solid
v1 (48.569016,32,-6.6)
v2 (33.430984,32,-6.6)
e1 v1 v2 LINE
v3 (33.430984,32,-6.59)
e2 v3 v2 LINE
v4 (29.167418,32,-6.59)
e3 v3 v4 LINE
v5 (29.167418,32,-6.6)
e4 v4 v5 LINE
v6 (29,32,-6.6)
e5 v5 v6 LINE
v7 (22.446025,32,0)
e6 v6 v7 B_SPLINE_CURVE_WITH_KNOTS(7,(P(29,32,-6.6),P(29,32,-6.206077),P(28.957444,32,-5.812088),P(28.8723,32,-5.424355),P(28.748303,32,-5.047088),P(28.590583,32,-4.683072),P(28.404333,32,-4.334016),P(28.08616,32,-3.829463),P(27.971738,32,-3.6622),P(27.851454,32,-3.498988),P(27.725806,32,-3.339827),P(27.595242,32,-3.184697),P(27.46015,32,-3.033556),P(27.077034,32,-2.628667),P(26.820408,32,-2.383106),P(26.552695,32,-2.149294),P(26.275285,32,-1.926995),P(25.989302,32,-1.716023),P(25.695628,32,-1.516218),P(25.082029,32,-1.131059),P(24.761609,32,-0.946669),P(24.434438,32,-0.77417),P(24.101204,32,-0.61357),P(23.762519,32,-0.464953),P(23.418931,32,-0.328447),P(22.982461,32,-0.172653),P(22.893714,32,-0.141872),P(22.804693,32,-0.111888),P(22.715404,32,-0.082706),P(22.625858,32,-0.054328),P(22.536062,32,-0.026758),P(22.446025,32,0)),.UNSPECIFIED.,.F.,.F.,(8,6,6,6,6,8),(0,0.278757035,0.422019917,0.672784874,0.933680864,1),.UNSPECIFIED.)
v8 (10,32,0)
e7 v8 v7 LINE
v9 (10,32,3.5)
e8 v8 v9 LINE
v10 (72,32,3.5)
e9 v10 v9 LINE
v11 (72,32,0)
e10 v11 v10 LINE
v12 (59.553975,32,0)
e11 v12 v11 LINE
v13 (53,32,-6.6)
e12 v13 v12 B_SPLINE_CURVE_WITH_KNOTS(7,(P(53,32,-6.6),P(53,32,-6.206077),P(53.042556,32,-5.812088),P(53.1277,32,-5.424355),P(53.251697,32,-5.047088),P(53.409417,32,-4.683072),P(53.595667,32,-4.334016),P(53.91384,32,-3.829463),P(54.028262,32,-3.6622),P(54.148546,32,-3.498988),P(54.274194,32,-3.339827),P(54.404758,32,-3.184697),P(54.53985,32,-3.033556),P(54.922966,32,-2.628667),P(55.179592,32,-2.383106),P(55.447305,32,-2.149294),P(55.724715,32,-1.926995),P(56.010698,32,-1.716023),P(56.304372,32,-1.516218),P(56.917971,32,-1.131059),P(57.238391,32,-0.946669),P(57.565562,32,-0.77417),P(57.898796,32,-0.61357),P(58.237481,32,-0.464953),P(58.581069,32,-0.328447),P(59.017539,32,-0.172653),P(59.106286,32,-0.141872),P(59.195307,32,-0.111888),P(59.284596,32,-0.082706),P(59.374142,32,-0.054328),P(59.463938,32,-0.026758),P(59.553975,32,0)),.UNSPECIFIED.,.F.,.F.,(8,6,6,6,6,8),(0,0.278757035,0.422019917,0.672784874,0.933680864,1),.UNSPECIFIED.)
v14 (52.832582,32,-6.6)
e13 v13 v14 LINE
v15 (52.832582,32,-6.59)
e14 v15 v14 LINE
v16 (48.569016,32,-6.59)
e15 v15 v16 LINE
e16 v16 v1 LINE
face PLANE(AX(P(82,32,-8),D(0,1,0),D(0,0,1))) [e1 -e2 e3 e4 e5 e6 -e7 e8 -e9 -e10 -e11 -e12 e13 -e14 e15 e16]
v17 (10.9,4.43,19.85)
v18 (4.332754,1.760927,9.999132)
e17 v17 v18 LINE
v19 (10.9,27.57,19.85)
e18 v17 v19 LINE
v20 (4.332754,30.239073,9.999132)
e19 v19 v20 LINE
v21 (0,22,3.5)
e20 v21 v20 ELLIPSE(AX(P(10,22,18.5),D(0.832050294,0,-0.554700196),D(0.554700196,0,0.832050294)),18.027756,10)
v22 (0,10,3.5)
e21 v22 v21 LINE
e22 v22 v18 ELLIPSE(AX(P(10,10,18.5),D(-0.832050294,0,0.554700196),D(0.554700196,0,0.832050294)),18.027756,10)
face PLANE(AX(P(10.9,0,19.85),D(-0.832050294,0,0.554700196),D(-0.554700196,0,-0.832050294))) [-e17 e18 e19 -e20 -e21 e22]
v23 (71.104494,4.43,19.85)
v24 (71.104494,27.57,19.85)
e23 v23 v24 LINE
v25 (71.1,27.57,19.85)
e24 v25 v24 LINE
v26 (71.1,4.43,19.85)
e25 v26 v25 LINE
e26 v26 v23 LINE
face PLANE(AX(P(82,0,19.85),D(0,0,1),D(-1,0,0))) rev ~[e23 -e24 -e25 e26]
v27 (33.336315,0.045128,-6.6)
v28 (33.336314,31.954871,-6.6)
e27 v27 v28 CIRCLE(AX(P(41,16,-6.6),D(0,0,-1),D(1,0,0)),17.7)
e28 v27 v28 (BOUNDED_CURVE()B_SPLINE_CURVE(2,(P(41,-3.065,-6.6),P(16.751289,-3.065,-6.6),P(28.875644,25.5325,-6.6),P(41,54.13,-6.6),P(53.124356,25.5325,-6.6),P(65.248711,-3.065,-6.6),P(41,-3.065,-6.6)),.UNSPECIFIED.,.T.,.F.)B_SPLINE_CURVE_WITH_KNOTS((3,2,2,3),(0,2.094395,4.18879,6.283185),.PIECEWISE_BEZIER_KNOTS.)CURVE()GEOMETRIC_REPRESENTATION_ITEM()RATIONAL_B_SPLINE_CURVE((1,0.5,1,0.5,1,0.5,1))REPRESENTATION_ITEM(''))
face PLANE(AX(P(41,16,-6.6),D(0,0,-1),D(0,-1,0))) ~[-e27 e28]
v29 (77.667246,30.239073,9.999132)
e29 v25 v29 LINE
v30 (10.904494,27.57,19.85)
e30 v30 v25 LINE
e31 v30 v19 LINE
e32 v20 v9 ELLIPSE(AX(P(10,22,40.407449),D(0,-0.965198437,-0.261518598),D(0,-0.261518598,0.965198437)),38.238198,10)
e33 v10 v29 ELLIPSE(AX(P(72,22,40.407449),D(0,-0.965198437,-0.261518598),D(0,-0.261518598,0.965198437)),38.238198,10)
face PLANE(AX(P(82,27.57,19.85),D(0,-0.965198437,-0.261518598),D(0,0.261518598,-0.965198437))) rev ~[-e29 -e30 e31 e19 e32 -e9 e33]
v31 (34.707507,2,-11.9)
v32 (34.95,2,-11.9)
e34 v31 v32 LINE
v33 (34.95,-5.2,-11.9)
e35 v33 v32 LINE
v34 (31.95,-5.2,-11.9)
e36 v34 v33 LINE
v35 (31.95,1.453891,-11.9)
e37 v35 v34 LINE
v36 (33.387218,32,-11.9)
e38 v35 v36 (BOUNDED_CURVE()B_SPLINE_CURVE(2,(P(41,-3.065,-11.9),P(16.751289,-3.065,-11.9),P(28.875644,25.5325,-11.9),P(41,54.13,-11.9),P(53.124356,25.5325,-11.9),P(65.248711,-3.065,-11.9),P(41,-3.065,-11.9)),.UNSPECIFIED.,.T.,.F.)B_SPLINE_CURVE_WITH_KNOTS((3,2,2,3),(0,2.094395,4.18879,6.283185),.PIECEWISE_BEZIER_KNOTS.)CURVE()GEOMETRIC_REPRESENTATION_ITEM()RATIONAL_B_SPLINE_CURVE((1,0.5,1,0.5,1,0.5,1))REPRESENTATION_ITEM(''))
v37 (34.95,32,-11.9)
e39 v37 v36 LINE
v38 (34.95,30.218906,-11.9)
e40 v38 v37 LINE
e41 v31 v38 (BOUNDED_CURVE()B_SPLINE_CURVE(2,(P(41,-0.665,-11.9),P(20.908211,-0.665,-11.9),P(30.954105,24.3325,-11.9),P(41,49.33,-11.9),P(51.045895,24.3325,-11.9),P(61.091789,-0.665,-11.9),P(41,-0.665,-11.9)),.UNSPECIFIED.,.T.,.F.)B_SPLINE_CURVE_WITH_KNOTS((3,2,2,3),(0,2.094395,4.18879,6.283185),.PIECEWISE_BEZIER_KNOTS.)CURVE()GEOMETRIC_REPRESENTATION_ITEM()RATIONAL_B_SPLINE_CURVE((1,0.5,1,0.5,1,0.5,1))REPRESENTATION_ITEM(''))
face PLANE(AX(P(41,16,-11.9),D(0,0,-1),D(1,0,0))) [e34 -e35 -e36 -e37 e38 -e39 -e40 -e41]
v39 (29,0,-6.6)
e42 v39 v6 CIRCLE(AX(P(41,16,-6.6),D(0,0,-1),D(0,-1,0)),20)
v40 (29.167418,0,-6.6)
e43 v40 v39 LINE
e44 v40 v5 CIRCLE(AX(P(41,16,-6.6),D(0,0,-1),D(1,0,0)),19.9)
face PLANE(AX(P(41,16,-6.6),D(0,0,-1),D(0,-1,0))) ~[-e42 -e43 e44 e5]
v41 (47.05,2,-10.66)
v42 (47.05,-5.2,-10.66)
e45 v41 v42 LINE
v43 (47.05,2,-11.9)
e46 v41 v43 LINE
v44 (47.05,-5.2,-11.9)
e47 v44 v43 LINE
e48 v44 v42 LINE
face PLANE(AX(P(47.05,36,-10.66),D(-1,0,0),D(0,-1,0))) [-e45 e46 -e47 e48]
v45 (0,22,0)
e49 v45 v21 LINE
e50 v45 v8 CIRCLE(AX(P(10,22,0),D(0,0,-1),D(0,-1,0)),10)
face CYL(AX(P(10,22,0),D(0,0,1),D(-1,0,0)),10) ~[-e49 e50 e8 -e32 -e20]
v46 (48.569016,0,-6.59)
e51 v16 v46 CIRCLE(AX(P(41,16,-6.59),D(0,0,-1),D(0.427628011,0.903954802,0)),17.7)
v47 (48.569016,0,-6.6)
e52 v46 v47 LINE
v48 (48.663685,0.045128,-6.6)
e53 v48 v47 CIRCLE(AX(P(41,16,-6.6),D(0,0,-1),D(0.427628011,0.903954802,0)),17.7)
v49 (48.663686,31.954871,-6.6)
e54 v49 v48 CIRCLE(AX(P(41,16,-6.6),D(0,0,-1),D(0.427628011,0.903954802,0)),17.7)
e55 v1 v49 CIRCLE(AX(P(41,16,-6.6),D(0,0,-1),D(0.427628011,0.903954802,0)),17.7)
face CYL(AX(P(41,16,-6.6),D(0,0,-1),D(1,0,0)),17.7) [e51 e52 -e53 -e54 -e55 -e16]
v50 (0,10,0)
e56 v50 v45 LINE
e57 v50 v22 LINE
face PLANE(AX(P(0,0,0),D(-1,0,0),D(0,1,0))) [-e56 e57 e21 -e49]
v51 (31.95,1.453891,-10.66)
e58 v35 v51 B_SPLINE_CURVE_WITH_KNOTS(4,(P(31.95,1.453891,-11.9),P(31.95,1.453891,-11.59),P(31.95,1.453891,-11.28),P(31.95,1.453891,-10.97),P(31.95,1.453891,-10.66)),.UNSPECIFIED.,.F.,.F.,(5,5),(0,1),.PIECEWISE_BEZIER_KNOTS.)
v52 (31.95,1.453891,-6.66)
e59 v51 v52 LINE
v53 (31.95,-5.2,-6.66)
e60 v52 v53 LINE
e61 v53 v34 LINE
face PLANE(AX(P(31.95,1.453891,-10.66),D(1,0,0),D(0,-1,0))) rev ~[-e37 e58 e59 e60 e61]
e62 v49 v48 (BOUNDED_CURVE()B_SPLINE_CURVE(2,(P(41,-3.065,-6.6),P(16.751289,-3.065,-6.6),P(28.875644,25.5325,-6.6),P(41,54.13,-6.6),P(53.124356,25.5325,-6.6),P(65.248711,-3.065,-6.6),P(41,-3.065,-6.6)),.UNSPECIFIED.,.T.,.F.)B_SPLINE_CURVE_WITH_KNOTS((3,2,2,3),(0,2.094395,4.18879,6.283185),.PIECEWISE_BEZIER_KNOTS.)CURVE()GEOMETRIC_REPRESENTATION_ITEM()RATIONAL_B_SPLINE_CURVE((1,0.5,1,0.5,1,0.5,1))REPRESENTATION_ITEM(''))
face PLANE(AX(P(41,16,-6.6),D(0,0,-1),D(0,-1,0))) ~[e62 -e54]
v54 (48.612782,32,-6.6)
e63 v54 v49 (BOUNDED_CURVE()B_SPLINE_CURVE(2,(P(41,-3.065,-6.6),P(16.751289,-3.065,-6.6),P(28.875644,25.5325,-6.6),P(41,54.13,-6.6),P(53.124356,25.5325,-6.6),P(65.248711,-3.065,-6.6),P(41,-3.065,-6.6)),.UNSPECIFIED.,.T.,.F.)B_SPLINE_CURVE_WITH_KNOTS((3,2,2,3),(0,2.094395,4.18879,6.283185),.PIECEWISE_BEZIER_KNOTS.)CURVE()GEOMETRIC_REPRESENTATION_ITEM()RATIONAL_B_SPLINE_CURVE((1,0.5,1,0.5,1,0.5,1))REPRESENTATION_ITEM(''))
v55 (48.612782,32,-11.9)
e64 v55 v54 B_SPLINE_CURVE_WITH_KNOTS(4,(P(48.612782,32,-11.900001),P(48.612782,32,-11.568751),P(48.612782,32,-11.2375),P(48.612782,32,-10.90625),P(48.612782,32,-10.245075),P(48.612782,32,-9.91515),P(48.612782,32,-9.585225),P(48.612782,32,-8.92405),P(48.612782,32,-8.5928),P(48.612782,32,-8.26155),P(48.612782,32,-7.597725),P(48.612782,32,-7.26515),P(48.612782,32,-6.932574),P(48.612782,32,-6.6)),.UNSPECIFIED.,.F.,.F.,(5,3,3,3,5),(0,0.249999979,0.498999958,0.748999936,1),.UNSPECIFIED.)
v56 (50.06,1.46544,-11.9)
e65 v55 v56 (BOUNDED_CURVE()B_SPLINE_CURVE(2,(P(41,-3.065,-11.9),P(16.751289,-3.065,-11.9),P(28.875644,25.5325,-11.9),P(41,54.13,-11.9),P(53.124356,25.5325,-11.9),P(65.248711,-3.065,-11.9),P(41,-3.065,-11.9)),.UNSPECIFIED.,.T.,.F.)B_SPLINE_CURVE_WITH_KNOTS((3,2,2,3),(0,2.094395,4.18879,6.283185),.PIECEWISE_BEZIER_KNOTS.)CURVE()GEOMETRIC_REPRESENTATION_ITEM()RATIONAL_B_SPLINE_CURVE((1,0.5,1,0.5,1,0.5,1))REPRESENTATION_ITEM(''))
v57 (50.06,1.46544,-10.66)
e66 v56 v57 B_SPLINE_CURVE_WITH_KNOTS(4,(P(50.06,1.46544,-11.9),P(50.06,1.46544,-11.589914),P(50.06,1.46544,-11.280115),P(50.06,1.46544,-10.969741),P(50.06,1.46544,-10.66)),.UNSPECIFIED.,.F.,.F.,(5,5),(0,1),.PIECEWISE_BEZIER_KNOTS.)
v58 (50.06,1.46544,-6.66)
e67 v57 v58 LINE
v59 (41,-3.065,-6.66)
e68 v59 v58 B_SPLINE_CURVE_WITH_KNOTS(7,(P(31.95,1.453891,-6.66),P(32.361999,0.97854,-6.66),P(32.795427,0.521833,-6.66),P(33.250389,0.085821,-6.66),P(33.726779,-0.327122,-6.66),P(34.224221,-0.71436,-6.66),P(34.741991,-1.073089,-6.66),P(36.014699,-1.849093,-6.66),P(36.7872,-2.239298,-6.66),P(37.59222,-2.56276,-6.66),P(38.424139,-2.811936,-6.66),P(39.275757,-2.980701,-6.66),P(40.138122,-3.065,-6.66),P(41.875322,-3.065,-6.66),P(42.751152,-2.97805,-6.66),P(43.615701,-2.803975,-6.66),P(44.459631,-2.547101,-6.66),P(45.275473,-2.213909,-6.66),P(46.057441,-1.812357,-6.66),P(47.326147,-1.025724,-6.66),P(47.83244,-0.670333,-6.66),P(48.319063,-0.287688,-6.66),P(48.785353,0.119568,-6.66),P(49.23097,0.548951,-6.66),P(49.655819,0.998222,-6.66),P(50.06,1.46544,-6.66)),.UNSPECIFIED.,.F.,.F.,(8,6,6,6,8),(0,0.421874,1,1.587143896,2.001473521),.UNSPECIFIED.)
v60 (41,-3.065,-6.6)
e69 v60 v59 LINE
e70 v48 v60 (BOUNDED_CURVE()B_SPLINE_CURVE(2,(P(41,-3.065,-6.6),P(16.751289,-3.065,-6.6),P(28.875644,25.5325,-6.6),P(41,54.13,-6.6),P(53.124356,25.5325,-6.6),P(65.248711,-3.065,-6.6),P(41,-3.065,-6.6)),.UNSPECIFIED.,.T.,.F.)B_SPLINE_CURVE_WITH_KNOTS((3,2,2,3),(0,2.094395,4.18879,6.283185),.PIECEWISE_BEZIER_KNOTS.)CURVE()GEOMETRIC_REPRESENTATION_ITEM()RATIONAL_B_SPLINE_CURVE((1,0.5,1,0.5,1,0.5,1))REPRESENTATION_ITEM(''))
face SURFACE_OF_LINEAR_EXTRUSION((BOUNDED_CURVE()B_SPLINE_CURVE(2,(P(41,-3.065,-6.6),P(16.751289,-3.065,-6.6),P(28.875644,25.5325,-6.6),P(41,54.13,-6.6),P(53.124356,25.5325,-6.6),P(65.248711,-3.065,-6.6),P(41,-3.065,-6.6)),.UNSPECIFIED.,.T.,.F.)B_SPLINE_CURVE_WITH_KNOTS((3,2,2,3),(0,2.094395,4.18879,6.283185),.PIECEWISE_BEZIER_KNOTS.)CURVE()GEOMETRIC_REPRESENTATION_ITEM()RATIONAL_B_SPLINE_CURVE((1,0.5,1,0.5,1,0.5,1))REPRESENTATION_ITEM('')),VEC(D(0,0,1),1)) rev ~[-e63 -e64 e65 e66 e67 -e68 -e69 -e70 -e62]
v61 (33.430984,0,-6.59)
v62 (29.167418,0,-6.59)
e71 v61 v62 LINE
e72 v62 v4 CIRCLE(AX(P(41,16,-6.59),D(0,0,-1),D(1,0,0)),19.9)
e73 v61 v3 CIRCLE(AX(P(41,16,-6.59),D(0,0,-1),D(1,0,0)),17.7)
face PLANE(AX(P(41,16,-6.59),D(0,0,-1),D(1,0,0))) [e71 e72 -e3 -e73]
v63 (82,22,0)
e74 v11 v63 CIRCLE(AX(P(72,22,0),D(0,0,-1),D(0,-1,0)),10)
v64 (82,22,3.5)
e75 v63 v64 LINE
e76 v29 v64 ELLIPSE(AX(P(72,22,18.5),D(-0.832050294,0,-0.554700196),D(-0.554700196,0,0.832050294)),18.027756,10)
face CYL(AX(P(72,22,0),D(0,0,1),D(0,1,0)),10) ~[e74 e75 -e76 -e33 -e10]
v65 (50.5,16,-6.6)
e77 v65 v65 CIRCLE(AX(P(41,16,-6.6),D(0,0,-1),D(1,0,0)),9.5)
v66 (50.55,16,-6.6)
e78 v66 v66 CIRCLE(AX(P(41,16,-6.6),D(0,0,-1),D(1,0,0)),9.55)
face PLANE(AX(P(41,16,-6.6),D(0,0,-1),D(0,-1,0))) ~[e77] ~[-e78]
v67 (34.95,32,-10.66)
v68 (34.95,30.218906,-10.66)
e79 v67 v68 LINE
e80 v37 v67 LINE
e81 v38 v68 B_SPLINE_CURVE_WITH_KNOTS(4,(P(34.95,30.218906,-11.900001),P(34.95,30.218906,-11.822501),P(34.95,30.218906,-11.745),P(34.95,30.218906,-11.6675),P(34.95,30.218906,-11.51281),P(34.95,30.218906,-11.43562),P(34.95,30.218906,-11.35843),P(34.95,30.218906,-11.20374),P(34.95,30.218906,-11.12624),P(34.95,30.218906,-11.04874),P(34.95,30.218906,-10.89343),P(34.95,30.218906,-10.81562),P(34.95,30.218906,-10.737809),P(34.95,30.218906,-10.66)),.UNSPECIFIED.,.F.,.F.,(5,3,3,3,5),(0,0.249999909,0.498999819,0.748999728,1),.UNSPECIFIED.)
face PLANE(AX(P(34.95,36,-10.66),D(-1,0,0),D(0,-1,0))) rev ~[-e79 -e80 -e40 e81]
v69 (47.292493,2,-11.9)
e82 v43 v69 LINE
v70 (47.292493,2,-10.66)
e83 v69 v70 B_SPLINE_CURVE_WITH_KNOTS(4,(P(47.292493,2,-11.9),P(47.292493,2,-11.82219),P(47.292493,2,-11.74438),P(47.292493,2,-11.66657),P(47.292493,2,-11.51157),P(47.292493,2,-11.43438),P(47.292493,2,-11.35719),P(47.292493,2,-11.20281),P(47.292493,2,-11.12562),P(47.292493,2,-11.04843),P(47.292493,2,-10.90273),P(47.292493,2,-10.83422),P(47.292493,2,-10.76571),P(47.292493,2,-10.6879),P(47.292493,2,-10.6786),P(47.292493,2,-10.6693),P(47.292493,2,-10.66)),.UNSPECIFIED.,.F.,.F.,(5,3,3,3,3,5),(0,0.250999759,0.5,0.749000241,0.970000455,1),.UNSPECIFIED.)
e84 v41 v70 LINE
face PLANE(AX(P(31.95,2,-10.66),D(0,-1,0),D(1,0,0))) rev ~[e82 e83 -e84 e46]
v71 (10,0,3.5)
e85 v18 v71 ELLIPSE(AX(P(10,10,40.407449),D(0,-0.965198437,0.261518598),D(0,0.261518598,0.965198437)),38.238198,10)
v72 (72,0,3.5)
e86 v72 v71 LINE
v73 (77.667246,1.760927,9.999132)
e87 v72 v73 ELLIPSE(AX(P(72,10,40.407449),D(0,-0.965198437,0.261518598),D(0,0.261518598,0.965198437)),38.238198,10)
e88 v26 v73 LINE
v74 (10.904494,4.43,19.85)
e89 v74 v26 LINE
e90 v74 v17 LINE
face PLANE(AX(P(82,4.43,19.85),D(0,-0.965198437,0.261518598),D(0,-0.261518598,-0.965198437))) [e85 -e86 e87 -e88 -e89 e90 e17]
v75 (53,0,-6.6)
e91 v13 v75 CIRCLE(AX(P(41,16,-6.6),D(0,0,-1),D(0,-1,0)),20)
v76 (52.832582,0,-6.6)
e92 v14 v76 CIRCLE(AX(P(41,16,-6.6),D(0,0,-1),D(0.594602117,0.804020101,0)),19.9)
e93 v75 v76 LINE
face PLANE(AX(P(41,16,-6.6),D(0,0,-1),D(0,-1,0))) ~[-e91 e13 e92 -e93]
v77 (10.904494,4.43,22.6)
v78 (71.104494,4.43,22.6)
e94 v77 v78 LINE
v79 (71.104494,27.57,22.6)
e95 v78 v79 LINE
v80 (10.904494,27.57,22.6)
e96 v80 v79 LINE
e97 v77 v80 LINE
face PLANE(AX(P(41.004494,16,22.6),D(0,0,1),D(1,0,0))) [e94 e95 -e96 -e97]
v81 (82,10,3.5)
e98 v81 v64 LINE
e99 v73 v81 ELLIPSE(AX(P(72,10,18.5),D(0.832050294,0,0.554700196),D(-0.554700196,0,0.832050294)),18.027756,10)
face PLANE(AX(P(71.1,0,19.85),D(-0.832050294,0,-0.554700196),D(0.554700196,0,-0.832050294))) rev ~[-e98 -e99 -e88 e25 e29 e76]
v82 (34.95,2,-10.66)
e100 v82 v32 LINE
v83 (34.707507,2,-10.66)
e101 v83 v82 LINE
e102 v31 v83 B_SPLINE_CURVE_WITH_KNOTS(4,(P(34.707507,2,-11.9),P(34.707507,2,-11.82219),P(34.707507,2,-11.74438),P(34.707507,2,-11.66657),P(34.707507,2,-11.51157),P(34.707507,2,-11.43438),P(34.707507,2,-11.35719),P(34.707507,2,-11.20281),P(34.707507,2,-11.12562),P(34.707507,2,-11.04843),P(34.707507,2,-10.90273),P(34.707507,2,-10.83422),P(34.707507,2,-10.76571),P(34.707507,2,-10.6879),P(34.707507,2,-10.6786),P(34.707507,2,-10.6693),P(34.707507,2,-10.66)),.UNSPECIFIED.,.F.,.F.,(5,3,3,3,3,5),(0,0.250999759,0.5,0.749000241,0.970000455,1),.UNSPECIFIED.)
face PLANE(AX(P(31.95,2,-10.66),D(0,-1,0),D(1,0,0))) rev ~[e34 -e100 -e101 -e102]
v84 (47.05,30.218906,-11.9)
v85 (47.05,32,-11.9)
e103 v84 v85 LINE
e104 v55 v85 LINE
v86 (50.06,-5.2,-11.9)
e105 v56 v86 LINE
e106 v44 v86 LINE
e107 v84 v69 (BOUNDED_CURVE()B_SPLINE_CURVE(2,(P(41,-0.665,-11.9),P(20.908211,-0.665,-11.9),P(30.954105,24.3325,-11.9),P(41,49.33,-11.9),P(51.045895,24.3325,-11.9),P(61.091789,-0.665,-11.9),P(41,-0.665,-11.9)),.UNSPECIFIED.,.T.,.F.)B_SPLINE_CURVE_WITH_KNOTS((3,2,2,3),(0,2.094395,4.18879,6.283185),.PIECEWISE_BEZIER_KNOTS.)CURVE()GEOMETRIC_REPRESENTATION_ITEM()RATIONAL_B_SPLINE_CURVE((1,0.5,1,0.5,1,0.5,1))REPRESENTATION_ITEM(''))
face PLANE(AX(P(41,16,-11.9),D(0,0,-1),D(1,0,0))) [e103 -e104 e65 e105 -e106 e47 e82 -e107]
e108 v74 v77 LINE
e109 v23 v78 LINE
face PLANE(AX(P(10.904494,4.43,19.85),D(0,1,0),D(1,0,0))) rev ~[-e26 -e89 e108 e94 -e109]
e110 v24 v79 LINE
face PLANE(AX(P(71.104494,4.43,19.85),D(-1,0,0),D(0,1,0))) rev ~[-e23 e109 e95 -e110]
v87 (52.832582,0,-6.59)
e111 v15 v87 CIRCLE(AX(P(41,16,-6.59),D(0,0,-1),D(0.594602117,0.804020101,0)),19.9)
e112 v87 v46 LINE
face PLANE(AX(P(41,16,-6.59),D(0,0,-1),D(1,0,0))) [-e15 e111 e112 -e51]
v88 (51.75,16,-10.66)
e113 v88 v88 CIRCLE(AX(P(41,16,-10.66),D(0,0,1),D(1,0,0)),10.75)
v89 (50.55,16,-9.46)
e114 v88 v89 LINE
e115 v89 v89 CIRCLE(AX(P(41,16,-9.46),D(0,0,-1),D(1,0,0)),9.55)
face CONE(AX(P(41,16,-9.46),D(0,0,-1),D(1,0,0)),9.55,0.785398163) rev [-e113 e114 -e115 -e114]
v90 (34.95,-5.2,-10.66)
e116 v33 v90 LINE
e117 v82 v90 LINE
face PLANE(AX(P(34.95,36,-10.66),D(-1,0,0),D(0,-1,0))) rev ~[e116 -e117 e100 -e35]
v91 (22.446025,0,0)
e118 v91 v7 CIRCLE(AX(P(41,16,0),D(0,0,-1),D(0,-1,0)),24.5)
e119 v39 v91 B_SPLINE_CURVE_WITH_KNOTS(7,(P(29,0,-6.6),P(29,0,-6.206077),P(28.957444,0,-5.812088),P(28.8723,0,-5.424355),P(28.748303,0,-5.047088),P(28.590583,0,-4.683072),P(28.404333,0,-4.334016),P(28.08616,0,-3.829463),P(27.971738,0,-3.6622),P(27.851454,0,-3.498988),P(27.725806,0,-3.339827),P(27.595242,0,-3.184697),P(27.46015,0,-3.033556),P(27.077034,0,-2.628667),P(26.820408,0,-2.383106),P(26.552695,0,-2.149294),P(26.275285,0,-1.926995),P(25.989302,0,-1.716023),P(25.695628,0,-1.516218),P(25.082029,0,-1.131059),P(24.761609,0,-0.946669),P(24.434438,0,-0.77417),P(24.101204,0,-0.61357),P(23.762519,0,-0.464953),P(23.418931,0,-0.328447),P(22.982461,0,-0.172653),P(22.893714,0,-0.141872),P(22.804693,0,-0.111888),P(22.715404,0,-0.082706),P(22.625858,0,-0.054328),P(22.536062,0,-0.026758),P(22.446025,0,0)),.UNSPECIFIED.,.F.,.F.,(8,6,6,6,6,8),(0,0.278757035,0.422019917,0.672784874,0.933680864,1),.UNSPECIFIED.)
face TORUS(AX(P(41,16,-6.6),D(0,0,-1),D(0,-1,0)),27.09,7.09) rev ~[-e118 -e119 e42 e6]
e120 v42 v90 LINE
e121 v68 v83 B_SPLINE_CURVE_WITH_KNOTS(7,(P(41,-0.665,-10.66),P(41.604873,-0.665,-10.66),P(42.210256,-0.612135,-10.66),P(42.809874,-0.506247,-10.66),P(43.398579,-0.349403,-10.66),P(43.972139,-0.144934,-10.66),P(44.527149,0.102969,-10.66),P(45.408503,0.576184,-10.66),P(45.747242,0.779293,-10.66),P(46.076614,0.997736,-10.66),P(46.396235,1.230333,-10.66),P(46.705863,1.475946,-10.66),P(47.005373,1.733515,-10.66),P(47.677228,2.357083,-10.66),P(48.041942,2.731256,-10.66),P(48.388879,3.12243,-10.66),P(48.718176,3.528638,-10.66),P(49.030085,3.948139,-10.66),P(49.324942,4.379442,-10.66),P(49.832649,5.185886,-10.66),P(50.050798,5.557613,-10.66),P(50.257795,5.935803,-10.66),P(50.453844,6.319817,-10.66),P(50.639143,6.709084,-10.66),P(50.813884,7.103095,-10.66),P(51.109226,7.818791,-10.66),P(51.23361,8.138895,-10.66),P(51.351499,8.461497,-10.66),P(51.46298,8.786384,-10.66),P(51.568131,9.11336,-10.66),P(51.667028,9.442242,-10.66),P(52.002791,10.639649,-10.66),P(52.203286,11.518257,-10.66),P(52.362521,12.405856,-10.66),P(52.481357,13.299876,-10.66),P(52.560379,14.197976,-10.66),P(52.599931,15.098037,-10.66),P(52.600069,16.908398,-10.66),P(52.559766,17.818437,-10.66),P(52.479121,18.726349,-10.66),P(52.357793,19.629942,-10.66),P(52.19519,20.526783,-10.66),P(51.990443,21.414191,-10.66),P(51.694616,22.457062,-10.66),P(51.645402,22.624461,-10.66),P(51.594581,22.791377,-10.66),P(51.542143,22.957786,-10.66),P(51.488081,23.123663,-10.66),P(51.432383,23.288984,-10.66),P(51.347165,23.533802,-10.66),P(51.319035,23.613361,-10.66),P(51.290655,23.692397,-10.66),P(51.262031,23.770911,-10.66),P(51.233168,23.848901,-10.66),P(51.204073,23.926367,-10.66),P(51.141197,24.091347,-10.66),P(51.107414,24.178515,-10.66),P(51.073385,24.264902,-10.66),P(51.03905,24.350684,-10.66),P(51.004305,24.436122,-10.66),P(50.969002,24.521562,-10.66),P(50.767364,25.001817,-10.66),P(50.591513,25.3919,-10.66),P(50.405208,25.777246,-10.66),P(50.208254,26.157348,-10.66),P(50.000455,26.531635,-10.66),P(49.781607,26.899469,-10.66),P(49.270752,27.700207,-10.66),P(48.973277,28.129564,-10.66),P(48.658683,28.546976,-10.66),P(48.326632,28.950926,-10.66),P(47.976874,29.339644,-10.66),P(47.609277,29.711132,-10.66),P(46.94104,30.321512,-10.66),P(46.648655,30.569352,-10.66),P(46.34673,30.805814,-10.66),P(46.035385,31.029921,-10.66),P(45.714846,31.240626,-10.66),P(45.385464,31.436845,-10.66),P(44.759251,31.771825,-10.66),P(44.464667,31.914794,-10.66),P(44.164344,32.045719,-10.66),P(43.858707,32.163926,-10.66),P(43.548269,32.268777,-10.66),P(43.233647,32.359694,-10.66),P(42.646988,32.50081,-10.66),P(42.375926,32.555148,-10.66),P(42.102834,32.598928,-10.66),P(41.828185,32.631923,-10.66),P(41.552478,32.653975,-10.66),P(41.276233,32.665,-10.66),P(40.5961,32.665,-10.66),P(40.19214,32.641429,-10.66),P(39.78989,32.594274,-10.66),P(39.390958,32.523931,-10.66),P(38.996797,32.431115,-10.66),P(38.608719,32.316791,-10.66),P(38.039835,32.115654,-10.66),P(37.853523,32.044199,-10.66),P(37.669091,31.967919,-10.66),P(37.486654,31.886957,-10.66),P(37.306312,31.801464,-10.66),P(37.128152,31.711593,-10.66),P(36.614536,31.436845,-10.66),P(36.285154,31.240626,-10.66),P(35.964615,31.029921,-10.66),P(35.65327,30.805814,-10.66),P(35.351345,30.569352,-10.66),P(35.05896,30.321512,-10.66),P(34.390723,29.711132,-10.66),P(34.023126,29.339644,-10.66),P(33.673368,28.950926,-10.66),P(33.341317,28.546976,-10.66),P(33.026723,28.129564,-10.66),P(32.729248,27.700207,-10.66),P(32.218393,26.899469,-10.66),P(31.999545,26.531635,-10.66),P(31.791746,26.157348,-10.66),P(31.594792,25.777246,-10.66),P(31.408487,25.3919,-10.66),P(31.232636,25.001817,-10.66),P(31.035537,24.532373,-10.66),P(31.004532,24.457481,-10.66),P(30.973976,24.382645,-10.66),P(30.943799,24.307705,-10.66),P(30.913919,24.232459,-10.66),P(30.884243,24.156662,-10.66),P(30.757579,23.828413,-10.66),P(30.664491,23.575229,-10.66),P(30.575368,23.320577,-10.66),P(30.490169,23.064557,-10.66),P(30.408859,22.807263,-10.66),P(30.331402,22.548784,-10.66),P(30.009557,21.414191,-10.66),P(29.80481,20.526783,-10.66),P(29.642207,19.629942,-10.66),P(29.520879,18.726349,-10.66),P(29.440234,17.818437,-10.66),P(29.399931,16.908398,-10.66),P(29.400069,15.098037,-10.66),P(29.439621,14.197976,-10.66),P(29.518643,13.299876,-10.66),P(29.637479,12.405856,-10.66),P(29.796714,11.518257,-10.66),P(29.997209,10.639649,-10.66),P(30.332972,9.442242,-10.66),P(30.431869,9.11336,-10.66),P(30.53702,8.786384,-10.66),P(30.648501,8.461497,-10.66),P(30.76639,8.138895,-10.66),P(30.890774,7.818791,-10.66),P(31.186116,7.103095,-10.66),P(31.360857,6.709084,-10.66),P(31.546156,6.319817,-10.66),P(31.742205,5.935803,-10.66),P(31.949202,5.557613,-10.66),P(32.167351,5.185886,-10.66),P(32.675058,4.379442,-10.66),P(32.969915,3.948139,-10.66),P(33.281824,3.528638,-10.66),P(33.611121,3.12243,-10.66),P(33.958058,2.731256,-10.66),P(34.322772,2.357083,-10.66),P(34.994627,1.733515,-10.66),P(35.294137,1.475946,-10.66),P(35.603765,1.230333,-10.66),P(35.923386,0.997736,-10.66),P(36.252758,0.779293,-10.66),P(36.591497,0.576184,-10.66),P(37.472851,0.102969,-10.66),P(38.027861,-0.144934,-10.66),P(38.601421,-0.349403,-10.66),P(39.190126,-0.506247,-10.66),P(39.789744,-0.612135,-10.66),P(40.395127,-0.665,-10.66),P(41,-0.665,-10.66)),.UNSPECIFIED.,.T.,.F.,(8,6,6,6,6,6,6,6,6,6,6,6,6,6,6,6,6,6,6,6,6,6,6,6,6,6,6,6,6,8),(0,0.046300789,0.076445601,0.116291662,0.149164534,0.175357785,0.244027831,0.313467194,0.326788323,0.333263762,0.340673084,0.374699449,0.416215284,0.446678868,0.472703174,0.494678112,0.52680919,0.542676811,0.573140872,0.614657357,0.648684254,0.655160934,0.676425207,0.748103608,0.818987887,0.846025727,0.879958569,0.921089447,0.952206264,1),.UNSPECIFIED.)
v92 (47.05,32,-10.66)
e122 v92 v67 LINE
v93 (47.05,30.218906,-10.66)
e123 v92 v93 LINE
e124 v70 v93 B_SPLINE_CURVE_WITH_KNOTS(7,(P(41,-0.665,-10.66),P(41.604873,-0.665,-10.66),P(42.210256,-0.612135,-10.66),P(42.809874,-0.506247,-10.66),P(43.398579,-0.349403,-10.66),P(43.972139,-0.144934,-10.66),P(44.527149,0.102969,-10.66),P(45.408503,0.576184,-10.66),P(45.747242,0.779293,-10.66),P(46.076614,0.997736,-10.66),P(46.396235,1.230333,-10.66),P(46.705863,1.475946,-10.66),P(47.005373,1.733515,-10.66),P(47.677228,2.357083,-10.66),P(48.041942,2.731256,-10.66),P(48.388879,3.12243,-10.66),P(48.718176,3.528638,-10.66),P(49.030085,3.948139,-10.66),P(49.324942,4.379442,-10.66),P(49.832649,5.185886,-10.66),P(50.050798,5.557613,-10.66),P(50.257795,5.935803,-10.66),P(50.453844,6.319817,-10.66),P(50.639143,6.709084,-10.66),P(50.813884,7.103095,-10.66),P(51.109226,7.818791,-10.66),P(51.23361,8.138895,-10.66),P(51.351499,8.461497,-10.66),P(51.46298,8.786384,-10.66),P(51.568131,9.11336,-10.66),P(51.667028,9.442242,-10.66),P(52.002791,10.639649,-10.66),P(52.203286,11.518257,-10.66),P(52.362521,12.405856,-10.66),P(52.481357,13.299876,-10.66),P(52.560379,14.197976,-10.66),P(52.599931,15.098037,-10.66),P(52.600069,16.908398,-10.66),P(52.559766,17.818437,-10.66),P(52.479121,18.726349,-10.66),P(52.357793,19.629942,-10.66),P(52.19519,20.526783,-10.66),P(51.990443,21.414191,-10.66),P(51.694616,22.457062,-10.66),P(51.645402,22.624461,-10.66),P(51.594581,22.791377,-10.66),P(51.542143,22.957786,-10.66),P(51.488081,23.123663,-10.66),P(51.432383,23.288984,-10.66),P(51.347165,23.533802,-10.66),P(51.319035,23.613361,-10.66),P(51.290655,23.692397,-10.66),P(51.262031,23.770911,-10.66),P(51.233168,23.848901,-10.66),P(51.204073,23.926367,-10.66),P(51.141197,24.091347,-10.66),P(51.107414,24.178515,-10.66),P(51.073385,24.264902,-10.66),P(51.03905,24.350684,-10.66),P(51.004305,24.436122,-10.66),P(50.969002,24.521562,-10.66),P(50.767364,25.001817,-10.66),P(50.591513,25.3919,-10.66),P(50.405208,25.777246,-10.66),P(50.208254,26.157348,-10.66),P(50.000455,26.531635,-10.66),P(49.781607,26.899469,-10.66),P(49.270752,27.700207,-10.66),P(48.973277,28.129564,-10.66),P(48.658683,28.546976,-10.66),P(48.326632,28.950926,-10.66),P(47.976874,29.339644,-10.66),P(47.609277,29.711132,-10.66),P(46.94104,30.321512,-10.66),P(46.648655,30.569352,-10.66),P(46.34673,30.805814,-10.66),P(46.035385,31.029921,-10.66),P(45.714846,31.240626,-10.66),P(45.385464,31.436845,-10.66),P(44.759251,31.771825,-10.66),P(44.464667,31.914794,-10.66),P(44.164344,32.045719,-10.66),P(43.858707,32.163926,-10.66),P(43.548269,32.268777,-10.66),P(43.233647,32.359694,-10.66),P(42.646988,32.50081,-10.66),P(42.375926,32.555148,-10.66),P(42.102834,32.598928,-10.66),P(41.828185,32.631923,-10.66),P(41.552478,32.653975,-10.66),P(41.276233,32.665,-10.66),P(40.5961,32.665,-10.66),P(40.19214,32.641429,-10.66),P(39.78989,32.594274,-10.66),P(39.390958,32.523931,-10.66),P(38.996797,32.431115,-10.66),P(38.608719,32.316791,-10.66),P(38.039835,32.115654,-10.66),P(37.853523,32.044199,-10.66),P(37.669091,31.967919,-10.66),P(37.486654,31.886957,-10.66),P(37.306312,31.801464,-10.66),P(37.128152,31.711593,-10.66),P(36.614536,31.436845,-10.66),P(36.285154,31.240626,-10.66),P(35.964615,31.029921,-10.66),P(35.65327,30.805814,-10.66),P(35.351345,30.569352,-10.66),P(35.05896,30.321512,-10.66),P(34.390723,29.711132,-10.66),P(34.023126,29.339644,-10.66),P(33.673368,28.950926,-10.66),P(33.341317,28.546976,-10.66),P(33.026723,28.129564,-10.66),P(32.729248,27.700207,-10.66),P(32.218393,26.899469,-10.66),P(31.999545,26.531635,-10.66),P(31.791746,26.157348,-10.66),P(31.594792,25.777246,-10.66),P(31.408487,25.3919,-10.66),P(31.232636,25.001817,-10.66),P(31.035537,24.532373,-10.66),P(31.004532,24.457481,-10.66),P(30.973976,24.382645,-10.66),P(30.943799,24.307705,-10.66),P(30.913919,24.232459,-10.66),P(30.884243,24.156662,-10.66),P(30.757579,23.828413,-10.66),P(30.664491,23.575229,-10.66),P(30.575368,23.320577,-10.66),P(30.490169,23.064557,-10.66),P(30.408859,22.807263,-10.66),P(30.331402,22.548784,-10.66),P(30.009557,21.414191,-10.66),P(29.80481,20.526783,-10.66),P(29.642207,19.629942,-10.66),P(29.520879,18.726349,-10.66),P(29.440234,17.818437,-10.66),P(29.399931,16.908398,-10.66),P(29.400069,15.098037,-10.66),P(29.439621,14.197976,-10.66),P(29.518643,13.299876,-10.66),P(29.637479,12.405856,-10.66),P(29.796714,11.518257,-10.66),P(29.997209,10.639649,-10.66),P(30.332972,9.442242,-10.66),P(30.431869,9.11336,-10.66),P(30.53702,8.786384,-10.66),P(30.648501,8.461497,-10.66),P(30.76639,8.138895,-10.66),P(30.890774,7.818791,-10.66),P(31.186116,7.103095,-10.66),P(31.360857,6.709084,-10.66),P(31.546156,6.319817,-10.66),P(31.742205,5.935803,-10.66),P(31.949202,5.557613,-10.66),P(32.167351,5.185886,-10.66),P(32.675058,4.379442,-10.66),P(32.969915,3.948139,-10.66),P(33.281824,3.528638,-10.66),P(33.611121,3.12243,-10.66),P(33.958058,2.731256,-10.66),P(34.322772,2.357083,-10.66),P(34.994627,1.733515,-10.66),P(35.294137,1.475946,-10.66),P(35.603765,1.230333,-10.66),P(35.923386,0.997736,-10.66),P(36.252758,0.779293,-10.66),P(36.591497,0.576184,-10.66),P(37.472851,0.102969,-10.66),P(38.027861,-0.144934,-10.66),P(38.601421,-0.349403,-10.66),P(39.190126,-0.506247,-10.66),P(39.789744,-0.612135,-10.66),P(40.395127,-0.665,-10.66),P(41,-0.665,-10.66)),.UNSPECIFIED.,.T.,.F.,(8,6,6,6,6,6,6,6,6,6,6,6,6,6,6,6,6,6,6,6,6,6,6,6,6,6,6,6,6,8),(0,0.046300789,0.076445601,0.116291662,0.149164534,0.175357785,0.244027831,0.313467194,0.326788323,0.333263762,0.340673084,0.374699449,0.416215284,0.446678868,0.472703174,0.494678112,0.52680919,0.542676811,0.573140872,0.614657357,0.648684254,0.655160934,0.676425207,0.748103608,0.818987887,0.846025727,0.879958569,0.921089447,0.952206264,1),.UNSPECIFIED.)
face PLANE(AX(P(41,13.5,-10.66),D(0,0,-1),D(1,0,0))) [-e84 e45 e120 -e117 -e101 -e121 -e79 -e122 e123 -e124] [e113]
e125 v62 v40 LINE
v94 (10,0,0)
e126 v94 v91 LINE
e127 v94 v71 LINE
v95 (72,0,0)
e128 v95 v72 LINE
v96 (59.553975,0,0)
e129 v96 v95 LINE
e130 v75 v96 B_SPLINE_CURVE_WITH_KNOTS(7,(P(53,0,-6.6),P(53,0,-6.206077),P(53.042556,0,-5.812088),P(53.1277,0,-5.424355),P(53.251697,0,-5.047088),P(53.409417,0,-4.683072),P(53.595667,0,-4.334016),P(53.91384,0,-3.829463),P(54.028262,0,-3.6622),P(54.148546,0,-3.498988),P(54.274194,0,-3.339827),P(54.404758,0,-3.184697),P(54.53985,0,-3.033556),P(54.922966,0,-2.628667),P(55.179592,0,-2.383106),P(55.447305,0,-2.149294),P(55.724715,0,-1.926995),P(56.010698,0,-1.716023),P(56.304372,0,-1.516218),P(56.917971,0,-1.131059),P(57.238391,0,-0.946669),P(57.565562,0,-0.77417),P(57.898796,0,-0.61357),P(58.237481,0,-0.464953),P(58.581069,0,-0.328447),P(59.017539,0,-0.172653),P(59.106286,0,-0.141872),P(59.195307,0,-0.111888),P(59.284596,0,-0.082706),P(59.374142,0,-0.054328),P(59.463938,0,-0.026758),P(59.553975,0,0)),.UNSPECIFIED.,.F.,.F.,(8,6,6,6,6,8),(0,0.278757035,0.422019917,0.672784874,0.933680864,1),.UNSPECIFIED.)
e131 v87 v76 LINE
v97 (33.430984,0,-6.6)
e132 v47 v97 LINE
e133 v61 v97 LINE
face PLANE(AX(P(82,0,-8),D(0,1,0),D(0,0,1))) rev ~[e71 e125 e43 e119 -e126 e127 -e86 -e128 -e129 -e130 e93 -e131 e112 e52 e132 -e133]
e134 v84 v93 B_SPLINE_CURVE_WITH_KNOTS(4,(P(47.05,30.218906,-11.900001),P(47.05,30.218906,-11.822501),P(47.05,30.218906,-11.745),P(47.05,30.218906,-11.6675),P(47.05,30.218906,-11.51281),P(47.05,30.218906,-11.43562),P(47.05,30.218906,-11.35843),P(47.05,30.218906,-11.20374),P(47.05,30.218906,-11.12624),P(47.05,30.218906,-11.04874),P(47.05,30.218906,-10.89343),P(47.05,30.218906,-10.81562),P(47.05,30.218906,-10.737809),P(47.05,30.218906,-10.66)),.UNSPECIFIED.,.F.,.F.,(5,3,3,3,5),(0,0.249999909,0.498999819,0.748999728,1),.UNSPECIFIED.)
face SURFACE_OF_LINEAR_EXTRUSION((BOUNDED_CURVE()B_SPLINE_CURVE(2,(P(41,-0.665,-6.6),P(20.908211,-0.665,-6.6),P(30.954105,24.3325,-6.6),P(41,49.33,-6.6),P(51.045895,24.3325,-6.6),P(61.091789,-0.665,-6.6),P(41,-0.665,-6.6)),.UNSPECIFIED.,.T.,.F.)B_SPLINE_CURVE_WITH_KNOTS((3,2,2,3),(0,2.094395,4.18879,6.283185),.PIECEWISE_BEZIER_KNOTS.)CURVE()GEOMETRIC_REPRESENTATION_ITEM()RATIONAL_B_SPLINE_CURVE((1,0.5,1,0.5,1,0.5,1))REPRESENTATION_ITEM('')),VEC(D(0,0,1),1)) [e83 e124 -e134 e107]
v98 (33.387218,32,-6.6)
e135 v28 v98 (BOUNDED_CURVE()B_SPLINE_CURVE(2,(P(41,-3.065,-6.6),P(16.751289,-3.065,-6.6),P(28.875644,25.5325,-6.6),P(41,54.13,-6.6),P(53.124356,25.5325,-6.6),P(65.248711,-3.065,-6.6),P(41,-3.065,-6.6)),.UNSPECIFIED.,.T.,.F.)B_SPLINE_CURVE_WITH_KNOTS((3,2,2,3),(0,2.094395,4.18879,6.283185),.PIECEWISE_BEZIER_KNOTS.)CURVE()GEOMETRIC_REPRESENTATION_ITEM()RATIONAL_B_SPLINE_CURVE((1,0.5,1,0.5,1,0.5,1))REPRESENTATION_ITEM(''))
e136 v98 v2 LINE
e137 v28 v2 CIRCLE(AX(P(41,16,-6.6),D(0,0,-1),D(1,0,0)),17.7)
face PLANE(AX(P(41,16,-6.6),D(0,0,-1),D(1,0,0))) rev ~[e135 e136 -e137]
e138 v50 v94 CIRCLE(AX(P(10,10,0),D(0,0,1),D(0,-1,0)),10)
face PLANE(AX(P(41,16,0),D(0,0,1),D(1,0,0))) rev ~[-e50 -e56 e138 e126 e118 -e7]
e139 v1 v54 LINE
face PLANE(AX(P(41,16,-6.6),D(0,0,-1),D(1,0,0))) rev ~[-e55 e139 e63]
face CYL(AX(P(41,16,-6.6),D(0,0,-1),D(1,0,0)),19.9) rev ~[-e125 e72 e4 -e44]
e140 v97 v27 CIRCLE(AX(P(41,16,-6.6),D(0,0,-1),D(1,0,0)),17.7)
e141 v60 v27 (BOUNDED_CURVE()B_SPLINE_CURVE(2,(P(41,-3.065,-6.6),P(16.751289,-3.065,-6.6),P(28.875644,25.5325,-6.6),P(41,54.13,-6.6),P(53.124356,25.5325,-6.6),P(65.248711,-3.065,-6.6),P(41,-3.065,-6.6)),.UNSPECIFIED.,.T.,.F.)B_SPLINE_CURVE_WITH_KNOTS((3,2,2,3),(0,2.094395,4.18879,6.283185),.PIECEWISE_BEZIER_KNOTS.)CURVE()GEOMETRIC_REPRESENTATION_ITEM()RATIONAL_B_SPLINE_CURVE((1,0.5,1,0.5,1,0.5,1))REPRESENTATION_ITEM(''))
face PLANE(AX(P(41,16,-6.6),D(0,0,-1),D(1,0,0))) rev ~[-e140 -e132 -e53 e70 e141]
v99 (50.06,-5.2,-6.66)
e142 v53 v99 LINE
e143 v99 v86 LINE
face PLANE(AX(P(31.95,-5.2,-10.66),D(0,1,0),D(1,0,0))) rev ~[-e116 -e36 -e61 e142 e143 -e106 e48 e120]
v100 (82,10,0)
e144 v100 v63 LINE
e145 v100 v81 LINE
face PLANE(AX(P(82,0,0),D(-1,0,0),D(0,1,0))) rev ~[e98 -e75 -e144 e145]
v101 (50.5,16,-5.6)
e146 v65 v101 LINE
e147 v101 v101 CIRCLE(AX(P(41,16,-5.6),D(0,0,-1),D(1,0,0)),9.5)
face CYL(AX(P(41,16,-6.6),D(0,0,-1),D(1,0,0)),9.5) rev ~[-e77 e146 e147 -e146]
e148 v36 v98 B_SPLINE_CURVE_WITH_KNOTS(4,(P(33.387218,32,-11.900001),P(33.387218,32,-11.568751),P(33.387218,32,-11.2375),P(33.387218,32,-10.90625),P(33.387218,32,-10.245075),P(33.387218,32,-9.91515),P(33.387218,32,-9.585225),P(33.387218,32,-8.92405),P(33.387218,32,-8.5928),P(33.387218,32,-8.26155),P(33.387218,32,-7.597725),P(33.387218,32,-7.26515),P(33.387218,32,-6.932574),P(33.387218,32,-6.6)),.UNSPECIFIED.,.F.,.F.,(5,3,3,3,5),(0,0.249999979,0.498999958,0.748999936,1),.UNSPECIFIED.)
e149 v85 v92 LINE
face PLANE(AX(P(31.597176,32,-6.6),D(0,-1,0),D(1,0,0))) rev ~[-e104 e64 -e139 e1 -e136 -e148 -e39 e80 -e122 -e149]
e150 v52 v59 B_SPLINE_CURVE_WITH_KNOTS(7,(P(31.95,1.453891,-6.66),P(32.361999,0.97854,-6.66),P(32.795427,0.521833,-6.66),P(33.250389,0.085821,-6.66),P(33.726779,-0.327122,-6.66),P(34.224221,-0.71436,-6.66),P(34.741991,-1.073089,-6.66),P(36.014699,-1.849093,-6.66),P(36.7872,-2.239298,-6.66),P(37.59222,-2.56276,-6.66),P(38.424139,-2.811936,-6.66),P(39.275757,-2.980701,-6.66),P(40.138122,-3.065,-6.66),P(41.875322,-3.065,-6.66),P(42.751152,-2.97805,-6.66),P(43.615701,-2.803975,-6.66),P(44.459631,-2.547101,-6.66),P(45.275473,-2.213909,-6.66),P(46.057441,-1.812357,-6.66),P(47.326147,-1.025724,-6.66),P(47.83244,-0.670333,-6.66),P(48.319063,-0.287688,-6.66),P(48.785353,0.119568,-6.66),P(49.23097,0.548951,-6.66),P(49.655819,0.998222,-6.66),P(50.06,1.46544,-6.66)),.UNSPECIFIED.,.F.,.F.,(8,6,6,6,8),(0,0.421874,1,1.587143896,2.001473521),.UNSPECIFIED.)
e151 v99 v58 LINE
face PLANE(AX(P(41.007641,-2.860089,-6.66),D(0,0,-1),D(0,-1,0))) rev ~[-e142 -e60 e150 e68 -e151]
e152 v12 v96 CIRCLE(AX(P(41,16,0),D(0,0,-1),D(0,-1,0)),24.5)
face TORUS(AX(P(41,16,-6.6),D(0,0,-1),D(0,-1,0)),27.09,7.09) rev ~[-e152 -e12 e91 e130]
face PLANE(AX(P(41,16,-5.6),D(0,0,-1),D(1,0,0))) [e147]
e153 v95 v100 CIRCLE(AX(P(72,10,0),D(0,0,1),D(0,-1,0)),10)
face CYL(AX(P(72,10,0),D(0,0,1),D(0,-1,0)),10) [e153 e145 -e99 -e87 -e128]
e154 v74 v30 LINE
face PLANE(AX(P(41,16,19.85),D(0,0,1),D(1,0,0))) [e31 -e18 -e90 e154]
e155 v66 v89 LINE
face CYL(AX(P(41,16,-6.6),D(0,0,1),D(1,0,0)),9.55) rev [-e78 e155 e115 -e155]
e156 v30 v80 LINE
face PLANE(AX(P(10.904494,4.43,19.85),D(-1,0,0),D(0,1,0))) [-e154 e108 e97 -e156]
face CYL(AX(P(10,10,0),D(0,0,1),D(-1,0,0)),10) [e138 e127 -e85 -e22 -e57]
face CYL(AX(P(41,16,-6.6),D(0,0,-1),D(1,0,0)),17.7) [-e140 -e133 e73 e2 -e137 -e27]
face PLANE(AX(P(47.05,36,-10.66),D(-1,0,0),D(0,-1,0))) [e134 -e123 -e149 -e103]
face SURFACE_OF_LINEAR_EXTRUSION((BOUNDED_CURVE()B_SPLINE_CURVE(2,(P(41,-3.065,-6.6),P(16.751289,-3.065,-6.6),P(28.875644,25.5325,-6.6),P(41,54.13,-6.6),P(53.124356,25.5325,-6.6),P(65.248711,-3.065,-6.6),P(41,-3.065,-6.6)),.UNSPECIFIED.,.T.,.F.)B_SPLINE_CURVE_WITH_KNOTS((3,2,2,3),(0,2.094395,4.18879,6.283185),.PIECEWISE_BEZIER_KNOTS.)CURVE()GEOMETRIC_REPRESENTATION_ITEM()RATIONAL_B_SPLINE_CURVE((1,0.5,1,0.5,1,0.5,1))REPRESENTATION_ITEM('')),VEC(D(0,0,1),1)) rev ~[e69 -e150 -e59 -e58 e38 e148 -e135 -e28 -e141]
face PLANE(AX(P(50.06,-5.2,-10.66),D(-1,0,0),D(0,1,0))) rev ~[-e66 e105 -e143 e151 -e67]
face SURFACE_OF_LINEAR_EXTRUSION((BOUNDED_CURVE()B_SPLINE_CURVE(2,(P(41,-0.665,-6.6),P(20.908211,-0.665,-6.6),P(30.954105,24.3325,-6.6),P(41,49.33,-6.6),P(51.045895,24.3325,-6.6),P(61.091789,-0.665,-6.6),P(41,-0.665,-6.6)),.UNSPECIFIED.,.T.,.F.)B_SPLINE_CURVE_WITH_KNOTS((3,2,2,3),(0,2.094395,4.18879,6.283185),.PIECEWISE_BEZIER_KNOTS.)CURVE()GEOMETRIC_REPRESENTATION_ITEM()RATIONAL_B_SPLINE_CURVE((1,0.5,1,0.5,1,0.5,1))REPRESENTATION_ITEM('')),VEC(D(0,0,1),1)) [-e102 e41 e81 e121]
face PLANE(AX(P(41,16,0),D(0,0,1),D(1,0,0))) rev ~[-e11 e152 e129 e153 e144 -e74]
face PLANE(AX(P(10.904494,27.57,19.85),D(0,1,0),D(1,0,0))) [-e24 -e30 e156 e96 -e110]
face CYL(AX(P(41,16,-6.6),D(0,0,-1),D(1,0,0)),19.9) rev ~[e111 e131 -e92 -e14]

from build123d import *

# Parameters (mm, degrees)
SKETCH_W        = 82
SKETCH_H        = 32
PAD_DEPTH       = 19.85
SKETCH001_W     = 60.2
SKETCH001_H     = 23.14
PAD001_DEPTH    = 2.75
POCKET_DEPTH    = 82.001
POCKET001_DEPTH = 32.001
FILLET_R        = 10
SKETCH006_W     = 1.503506
SKETCH006_H     = 1.507809
PAD002_DEPTH    = 1
SKETCH007_W     = 9.4
SKETCH007_H     = 8
POCKET002_DEPTH = 82.001
SKETCH009_R     = 19.9
SKETCH009_R_2   = 17.7
POCKET003_DEPTH = 0.01
SKETCH010_R     = 9.5
POCKET004_DEPTH = 1
PAD003_DEPTH    = 5.3
SKETCH012_R     = 9.55
PAD004_DEPTH    = 4.06
CHAMFER_SIZE    = 1.2
SKETCH013_W     = 18.11
SKETCH013_H     = 7.2
PAD005_DEPTH    = 1.24
PAD006_DEPTH    = 4
SKETCH014_W     = 12.1
SKETCH014_H     = 45
POCKET005_DEPTH = 5
SKETCH015_W     = 20
SKETCH015_H     = 8
POCKET006_DEPTH = 50.051
SKETCH018_W     = 19.342346
SKETCH018_H     = 7.312466
POCKET007_DEPTH = 5.301


with BuildPart() as part:
    # Sketch → Pad (new body)
    with BuildSketch(Plane.XY):
        with Locations((41, 16)):
            Rectangle(SKETCH_W, SKETCH_H)
    extrude(amount=PAD_DEPTH)

    # Sketch001 (on Face6 of Pad) → Pad001 (join)
    with BuildSketch(Plane.XY.offset(19.85)):
        with Locations((41.004494, 16)):
            Rectangle(SKETCH001_W, SKETCH001_H)
    extrude(amount=PAD001_DEPTH)

    # Sketch002 (on Face3 of Pad001) → Pocket (cut, through all)
    with BuildSketch(Plane.YZ.offset(82)):
        Polygon((0, 3.5), (0, 19.85), (4.43, 19.85), align=None)
        Polygon((32, 3.5), (32, 19.85), (27.57, 19.85), align=None)
    extrude(amount=-POCKET_DEPTH, mode=Mode.SUBTRACT)

    # Sketch003 → Pocket001 (cut, through all)
    with BuildSketch(Plane.XZ):
        Polygon((0, 3.5), (0, 19.85), (10.9, 19.85), align=None)
        Polygon((82, 3.5), (82, 19.85), (71.1, 19.85), align=None)
    extrude(amount=-POCKET001_DEPTH, mode=Mode.SUBTRACT)

    # Fillet
    fillet_edges = [part.edges().sort_by_distance(p)[0] for p in [
        (82, 32, 1.75),
        (82, 0, 1.75),
        (0, 0, 1.75),
        (0, 32, 1.75),
    ]]
    fillet(fillet_edges, radius=FILLET_R)

    # Sketch006 (on Face2 of Fillet) → Pad002 (join)
    with BuildSketch(Plane(origin=(0, 0, 0), x_dir=(1, 0, 0), z_dir=(0, 0, -1))):
        with Locations((40.248247, -15.246095)):
            Rectangle(SKETCH006_W, SKETCH006_H)
    extrude(amount=PAD002_DEPTH)

    # Sketch008 → Revolution (revolve)
    with BuildSketch(Plane.YZ.offset(41)):
        with BuildLine():
            Line((16, 0), (16, -6.6))
            Line((16, -6.6), (-4, -6.6))
            ThreePointArc((-4, -6.6), (-5.232048, -2.605942), (-8.5, 0))
            Line((-8.5, 0), (16, 0))
        make_face()
    revolve(axis=Axis((41, 16, -0.5), (0, 0, -1)))

    # Sketch007 → Pocket002 (cut, through all)
    with BuildSketch(Plane.YZ.offset(82)):
        with Locations((-4.7, -4)):
            Rectangle(SKETCH007_W, SKETCH007_H)
        with Locations((36.7, -4)):
            Rectangle(SKETCH007_W, SKETCH007_H)
    extrude(amount=-POCKET002_DEPTH, mode=Mode.SUBTRACT)

    # Sketch009 (on Face12 of Pocket002) → Pocket003 (cut)
    with BuildSketch(Plane(origin=(0, 0, -6.6), x_dir=(1, 0, 0), z_dir=(0, 0, -1))):
        with Locations((41, -16)):
            Circle(SKETCH009_R)
        with Locations((41, -16)):
            Circle(SKETCH009_R_2, mode=Mode.SUBTRACT)
    extrude(amount=-POCKET003_DEPTH, mode=Mode.SUBTRACT)

    # Sketch010 (on Face16 of Pocket003) → Pocket004 (cut)
    with BuildSketch(Plane(origin=(0, 0, -6.6), x_dir=(1, 0, 0), z_dir=(0, 0, -1))):
        with Locations((41, -16)):
            Circle(SKETCH010_R)
    extrude(amount=-POCKET004_DEPTH, mode=Mode.SUBTRACT)

    # Sketch011 (on Face16 of Pocket004) → Pad003 (join)
    with BuildSketch(Plane(origin=(0, 0, -6.6), x_dir=(1, 0, 0), z_dir=(0, 0, -1))):
        with BuildLine():
            add(Edge.make_bspline(
                [(41, 3.065), (16.751289, 3.065), (28.875644, -25.5325), (41, -54.13), (53.124356, -25.5325), (65.248711, 3.065), (41, 3.065)],
                knots=[0, 0, 0, 2.094395, 2.094395, 4.18879, 4.18879, 6.283185, 6.283185, 6.283185], degree=2, weights=[1, 0.5, 1, 0.5, 1, 0.5, 1]))
        make_face()
        with BuildLine():
            add(Edge.make_bspline(
                [(41, 0.665), (20.908211, 0.665), (30.954105, -24.3325), (41, -49.33), (51.045895, -24.3325), (61.091789, 0.665), (41, 0.665)],
                knots=[0, 0, 0, 2.094395, 2.094395, 4.18879, 4.18879, 6.283185, 6.283185, 6.283185], degree=2, weights=[1, 0.5, 1, 0.5, 1, 0.5, 1]))
        make_face(mode=Mode.SUBTRACT)
    extrude(amount=PAD003_DEPTH)

    # Sketch012 (on Face17 of Pad003) → Pad004 (join)
    with BuildSketch(Plane(origin=(0, 0, -6.6), x_dir=(1, 0, 0), z_dir=(0, 0, -1))):
        with BuildLine():
            add(Edge.make_bspline(
                [(41, 0.67), (20.89089, 0.67), (30.945445, -24.335), (41, -49.34), (51.054555, -24.335), (61.10911, 0.67), (41, 0.67)],
                knots=[0, 0, 0, 2.094395, 2.094395, 4.18879, 4.18879, 6.283185, 6.283185, 6.283185], degree=2, weights=[1, 0.5, 1, 0.5, 1, 0.5, 1]))
        make_face()
        with Locations((41, -16)):
            Circle(SKETCH012_R, mode=Mode.SUBTRACT)
    extrude(amount=PAD004_DEPTH)

    # Chamfer
    chamfer_edges = [part.edges().sort_by_distance(p)[0] for p in [
        (31.45, 16, -10.66),
    ]]
    chamfer(chamfer_edges, length=CHAMFER_SIZE)

    # Sketch013 (on Face1 of Chamfer) → Pad005 (join)
    with BuildSketch(Plane(origin=(0, 0, -10.66), x_dir=(1, 0, 0), z_dir=(0, 0, -1))):
        with Locations((41.005, 1.6)):
            Rectangle(SKETCH013_W, SKETCH013_H)
    extrude(amount=PAD005_DEPTH)

    # Pad005 Face12 → Pad006 (add)
    with BuildSketch(Plane(origin=(41.009347, -3.173627, -10.66), x_dir=(0, 1, 0), z_dir=(0, 0, 1))):
        with BuildLine():
            add(Edge.make_bspline(
                [(4.627518, 9.059347), (4.152167, 8.647348), (3.69546, 8.21392), (3.259448, 7.758958), (2.846505, 7.282568), (2.459267, 6.785126), (2.100538, 6.267356), (1.324534, 4.994648), (0.934329, 4.222147), (0.610867, 3.417127), (0.361691, 2.585208), (0.192926, 1.73359), (0.108627, 0.871225), (0.108627, 0.009347)],
                knots=[0, 0, 0, 0, 0, 0, 0, 0, 0.421874, 0.421874, 0.421874, 0.421874, 0.421874, 0.421874, 1, 1, 1, 1, 1, 1, 1, 1], degree=7))
            Line((4.627518, 9.059347), (-2.026373, 9.059347))
            Line((-2.026373, 9.059347), (-2.026373, -9.050653))
            Line((-2.026373, -9.050653), (4.639067, -9.050653))
            add(Edge.make_bspline(
                [(0.108627, 0.009347), (0.108627, -0.865975), (0.195577, -1.741805), (0.369652, -2.606354), (0.626526, -3.450284), (0.959718, -4.266126), (1.36127, -5.048094), (2.147903, -6.3168), (2.503294, -6.823093), (2.885939, -7.309716), (3.293195, -7.776006), (3.722578, -8.221623), (4.171849, -8.646472), (4.639067, -9.050653)],
                knots=[0, 0, 0, 0, 0, 0, 0, 0, 0.58628, 0.58628, 0.58628, 0.58628, 0.58628, 0.58628, 1, 1, 1, 1, 1, 1, 1, 1], degree=7))
        make_face()
    extrude(amount=PAD006_DEPTH)

    # Sketch014 (on Face1 of Pad006) → Pocket005 (cut)
    with BuildSketch(Plane(origin=(0, 0, -10.66), x_dir=(1, 0, 0), z_dir=(0, 0, -1))):
        with Locations((41, -13.5)):
            Rectangle(SKETCH014_W, SKETCH014_H)
    extrude(amount=POCKET005_DEPTH, mode=Mode.SUBTRACT)

    # Sketch015 (on Face29 of Pocket005) → Pocket006 (cut, through all)
    with BuildSketch(Plane(origin=(31.95, 0, 0), x_dir=(0, -1, 0), z_dir=(-1, 0, 0))):
        with Locations((41, 36)):
            Rectangle(SKETCH015_W, SKETCH015_H)
    extrude(amount=-POCKET006_DEPTH, mode=Mode.SUBTRACT)

    # Sketch018 → Pocket007 (cut, through all)
    with BuildSketch(Plane.XY.offset(-6.6)):
        with Locations((41.268349, 35.656233)):
            Rectangle(SKETCH018_W, SKETCH018_H)
    extrude(amount=-POCKET007_DEPTH, mode=Mode.SUBTRACT)


solid = part.part
